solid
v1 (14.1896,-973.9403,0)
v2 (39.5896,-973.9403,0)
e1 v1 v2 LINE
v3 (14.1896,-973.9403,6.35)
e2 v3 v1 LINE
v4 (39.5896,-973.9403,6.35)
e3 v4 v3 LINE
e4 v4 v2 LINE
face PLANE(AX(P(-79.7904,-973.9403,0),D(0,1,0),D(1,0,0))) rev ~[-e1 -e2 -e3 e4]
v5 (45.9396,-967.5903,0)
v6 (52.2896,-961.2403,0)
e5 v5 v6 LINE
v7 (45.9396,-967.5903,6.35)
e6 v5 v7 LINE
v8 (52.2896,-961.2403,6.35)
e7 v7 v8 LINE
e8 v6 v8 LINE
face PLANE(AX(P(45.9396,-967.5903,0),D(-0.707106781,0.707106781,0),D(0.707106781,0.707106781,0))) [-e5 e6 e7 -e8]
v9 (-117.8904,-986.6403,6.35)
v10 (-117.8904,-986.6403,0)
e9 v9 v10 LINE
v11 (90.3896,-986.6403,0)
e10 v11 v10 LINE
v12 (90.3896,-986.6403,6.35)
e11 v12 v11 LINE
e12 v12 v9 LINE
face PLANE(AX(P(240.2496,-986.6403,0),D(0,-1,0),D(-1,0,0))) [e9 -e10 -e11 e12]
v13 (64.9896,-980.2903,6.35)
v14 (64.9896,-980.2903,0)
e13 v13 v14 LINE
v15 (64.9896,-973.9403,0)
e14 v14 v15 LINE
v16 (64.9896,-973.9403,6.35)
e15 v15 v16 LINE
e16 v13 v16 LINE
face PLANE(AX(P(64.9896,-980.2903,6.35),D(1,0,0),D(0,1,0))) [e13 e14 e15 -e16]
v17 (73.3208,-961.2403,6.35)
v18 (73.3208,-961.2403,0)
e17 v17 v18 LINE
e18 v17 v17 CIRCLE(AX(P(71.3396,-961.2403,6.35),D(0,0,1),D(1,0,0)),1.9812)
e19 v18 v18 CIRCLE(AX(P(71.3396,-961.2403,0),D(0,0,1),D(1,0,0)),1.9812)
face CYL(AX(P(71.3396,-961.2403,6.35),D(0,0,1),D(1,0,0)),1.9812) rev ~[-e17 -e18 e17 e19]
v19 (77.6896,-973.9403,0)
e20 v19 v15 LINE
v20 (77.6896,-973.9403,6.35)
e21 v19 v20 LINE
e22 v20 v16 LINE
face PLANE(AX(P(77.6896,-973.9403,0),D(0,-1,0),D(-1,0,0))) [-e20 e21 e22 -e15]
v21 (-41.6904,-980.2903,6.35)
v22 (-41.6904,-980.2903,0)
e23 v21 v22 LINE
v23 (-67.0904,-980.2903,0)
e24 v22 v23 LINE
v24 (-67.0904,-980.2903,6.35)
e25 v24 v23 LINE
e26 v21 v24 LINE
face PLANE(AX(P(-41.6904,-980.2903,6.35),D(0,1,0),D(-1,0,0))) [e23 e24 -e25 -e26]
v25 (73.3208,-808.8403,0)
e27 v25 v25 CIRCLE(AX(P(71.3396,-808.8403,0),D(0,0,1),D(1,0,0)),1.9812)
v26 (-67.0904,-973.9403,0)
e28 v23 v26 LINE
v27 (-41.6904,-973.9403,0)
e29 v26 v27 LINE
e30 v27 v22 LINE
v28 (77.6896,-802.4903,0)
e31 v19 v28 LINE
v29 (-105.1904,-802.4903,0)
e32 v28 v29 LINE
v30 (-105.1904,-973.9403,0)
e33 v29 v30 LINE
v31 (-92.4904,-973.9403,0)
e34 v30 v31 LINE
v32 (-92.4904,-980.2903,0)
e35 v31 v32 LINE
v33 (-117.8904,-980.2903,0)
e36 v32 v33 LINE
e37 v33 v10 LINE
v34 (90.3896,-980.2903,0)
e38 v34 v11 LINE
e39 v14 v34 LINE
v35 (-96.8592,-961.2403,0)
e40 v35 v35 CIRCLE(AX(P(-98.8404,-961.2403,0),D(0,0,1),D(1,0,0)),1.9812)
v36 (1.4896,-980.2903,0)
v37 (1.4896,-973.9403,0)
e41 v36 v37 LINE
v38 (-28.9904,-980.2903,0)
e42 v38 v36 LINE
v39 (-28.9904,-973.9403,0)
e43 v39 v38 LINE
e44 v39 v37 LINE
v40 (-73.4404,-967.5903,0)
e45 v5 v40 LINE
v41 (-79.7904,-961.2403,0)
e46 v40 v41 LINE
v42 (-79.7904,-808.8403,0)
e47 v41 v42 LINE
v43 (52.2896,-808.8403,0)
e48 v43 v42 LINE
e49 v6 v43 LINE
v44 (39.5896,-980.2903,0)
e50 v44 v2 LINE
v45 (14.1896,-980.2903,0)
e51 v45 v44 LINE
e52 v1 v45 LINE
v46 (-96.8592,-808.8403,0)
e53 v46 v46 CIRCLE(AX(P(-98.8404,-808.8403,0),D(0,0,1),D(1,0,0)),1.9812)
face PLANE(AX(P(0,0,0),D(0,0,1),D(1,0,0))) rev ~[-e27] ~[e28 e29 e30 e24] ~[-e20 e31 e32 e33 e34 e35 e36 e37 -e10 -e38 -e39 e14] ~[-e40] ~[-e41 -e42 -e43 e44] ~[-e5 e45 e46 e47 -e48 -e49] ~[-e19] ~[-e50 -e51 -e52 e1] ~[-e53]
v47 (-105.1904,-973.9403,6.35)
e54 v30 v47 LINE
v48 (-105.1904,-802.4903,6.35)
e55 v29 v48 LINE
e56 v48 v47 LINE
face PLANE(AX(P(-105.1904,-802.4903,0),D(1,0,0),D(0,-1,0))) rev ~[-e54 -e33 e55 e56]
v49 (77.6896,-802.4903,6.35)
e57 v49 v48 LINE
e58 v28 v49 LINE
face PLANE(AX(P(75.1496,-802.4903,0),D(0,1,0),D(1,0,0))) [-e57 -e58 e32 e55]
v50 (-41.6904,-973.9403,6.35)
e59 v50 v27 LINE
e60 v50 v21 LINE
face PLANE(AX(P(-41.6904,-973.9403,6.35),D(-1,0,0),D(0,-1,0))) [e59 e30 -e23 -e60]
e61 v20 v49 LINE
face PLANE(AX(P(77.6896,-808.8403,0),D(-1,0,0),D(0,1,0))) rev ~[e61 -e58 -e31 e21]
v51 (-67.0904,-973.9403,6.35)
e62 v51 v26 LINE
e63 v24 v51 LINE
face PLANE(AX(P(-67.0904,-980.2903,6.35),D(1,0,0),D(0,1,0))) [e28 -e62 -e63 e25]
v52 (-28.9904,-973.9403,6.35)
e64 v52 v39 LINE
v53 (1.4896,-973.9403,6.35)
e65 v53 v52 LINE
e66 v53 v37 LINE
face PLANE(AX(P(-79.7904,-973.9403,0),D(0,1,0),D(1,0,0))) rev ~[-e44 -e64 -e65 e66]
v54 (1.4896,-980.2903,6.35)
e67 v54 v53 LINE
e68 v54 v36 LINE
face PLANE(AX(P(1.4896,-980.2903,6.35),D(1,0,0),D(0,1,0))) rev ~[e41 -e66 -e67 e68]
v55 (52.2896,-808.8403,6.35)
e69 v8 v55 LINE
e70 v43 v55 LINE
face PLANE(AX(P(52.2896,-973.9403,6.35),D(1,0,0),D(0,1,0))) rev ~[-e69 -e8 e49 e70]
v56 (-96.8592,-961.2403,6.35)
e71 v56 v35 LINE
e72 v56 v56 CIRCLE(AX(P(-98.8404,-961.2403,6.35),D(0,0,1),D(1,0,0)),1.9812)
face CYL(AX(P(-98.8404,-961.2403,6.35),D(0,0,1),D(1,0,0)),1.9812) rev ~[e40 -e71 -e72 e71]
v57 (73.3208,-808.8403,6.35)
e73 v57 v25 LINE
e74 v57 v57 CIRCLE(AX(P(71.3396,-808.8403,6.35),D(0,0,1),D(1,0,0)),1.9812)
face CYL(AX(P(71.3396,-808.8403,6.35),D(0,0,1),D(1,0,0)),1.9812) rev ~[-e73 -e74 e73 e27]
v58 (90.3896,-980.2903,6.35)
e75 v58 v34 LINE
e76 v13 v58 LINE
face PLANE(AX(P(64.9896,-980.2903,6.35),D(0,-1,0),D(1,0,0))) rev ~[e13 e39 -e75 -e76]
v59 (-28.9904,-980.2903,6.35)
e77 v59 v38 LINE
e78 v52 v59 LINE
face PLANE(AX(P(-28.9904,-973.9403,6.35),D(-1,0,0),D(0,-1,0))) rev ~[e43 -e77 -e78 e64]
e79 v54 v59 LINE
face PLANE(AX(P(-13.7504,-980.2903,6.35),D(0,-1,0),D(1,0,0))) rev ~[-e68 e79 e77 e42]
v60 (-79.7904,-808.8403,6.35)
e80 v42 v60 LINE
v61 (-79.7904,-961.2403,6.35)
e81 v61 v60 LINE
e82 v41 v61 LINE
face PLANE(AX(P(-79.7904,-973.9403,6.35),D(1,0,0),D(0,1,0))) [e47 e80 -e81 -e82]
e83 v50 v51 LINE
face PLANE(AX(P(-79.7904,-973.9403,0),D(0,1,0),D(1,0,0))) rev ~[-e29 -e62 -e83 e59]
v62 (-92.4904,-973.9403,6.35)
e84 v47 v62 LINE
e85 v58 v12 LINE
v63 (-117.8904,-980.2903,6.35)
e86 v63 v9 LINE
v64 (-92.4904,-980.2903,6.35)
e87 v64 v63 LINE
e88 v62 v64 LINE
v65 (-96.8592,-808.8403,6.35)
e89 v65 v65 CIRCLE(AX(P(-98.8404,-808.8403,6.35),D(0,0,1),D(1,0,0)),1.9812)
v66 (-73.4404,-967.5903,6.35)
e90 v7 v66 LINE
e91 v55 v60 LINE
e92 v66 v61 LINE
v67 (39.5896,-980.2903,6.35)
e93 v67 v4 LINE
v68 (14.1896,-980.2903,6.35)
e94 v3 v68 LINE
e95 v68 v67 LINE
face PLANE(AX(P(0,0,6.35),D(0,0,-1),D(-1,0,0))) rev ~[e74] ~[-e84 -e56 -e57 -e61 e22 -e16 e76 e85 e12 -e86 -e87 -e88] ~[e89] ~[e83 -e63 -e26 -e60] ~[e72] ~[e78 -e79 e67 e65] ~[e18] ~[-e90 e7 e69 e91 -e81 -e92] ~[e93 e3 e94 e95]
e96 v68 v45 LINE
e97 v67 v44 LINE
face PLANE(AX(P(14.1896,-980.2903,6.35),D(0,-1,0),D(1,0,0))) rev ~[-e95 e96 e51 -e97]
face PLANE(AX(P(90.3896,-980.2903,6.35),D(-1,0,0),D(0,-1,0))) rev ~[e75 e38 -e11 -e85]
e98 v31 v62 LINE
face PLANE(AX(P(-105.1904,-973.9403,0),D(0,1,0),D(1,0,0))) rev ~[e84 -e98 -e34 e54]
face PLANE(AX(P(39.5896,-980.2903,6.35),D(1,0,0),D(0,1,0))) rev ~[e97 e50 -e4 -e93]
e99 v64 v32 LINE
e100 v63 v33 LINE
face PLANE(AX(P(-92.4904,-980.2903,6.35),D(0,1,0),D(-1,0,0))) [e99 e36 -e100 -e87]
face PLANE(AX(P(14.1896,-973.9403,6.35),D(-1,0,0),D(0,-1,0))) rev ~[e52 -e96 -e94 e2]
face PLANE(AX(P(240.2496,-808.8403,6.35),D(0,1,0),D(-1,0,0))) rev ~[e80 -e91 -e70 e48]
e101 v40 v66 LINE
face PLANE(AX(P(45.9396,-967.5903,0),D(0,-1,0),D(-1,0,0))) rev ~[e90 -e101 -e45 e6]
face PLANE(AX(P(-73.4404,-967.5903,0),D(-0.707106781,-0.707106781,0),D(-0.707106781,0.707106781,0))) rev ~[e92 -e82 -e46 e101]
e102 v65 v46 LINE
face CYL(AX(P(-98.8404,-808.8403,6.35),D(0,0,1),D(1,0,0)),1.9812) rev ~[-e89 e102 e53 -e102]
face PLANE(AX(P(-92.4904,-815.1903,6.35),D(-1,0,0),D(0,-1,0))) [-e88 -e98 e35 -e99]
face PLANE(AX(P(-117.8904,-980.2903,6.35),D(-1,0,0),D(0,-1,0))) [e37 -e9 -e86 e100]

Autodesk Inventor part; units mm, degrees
ref_plane "YZ Plane" through (0, 0, 0) normal (1, 0, 0) x (0, 1, 0)
ref_plane "XZ Plane" through (0, 0, 0) normal (0, 1, 0) x (-1, 0, 0)
ref_plane "XY Plane" through (0, 0, 0) normal (0, 0, 1) x (1, 0, 0)
sketch "Sketch1" plane through (0, 0, 0) normal (0, 0, 1) x (1, 0, 0)
  line L0 (-267.7504, 67.4597) -> (240.2496, 67.4597)
  line L1 (240.2496, 67.4597) -> (240.2496, -986.6403)
  line L2 (240.2496, -986.6403) -> (-267.7504, -986.6403)
  line L3 (-267.7504, -986.6403) -> (-267.7504, 67.4597)
  point P0 (0, 0)
  dimension "d0" = 508
  dimension "d1" = 1054.1
extrude "Extrusion1" add sketch "Sketch1" along normal blind 6.35
sketch "Sketch2" plane through (0, 0, 6.35) normal (0, 0, 1) x (1, 0, 0)
  line L0 (240.2496, -986.6403) -> (-267.7504, -986.6403) projected
  line L1 (-267.7504, -986.6403) -> (-13.7504, -986.6403)
  line L2 (-13.7504, -986.6403) -> (-13.7504, -980.2903)
  line L3 (-13.7504, -980.2903) -> (1.4896, -980.2903)
  line L4 (1.4896, -980.2903) -> (-28.9904, -980.2903)
  line L5 (-28.9904, -980.2903) -> (1.4896, -980.2903)
  line L6 (1.4896, -980.2903) -> (1.4896, -973.9403)
  line L7 (1.4896, -973.9403) -> (-28.9904, -973.9403)
  line L8 (-28.9904, -973.9403) -> (-28.9904, -980.2903)
  point P0 (0, 0)
  dimension "d4" = 254
  dimension "d5" = 6.35
  dimension "d6" = 15.24
  dimension "d7" = 30.48
  dimension "d8" = 6.35
extrude "Extrusion2" cut sketch "Sketch2" against normal blind 104.14
sketch "Sketch3" plane through (0, 0, 6.35) normal (0, 0, 1) x (1, 0, 0)
  line L0 (240.2496, -986.6403) -> (-267.7504, -986.6403) projected
  line L1 (1.4896, -980.2903) -> (14.1896, -980.2903)
  line L2 (-28.9904, -980.2903) -> (-41.6904, -980.2903)
  line L3 (-41.6904, -980.2903) -> (-67.0904, -980.2903)
  line L4 (-67.0904, -980.2903) -> (-67.0904, -973.9403)
  line L5 (-67.0904, -973.9403) -> (-41.6904, -973.9403)
  line L6 (-41.6904, -973.9403) -> (-41.6904, -980.2903)
  line L7 (14.1896, -980.2903) -> (39.5896, -980.2903)
  line L8 (39.5896, -980.2903) -> (39.5896, -973.9403)
  line L9 (39.5896, -973.9403) -> (14.1896, -973.9403)
  line L10 (14.1896, -973.9403) -> (14.1896, -980.2903)
  point P0 (0, 0)
  dimension "d11" = 12.7
  dimension "d12" = 12.7
  dimension "d13" = 25.4
  dimension "d14" = 25.4
extrude "Extrusion3" cut sketch "Sketch3" against normal blind 104.14
sketch "Sketch4" plane through (0, 0, 6.35) normal (0, 0, 1) x (1, 0, 0)
  line L0 (-67.0904, -973.9403) -> (-41.6904, -973.9403) projected
  line L1 (14.1896, -973.9403) -> (39.5896, -973.9403) projected
  line L2 (-28.9904, -973.9403) -> (1.4896, -973.9403) projected
  line L3 (240.2496, 67.4597) -> (240.2496, -986.6403) projected
  line L4 (-267.7504, -986.6403) -> (-267.7504, 67.4597) projected
  line L5 (240.2496, -986.6403) -> (-267.7504, -986.6403) projected
  line L6 (-67.0904, -980.2903) -> (-92.4904, -980.2903)
  line L7 (-92.4904, -980.2903) -> (-117.8904, -980.2903)
  line L8 (-117.8904, -980.2903) -> (-117.8904, -986.6403)
  line L9 (39.5896, -980.2903) -> (64.9896, -980.2903)
  line L10 (64.9896, -980.2903) -> (90.3896, -980.2903)
  line L11 (90.3896, -980.2903) -> (90.3896, -986.6403)
  line L12 (-41.6904, -973.9403) -> (-28.9904, -973.9403)
  line L13 (1.4896, -973.9403) -> (14.1896, -973.9403)
  line L14 (-67.0904, -973.9403) -> (-79.7904, -973.9403)
  line L15 (39.5896, -973.9403) -> (52.2896, -973.9403)
  line L16 (-79.7904, -973.9403) -> (-79.7904, -802.4903)
  line L17 (52.2896, -973.9403) -> (52.2896, -802.4903)
  line L18 (52.2896, -802.4903) -> (-79.7904, -802.4903)
  line L19 (-79.7904, -802.4903) -> (-105.1904, -802.4903)
  line L20 (-105.1904, -802.4903) -> (-105.1904, -815.1903)
  line L21 (-105.1904, -815.1903) -> (-92.4904, -815.1903)
  line L22 (-92.4904, -815.1903) -> (-92.4904, -980.2903)
  line L23 (64.9896, -980.2903) -> (64.9896, -815.1903)
  line L24 (64.9896, -815.1903) -> (77.6896, -815.1903)
  line L25 (77.6896, -815.1903) -> (77.6896, -802.4903)
  line L26 (77.6896, -802.4903) -> (52.2896, -802.4903)
  line L27 (-105.1904, -802.4903) -> (-267.7504, -802.4903)
  line L28 (77.6896, -802.4903) -> (240.2496, -802.4903)
  point P0 (0, 0)
  dimension "d17" = 25.4
  dimension "d18" = 25.4
  dimension "d19" = 25.4
  dimension "d20" = 25.4
  dimension "d21" = 171.45
  dimension "d22" = 25.4
  dimension "d23" = 12.7
extrude "Extrusion4" cut sketch "Sketch4" against normal blind 104.14 contours L14 L16 L18 L17 L15 L1 L13 L2 L12 L0 | L20 L21 L22 L7 L8 L5 L4 L27 | L28 L3 L5 L11 L10 L23 L24 L25
sketch "Sketch5" plane through (0, 0, 6.35) normal (0, 0, 1) x (1, 0, 0)
  line L0 (-92.4904, -815.1903) -> (-92.4904, -980.2903) projected
  line L1 (64.9896, -980.2903) -> (64.9896, -815.1903) projected
  line L2 (-92.4904, -973.9403) -> (-92.4904, -967.5903)
  line L3 (-92.4904, -967.5903) -> (-105.1904, -967.5903)
  line L4 (-105.1904, -967.5903) -> (-105.1904, -954.8903)
  line L5 (-105.1904, -954.8903) -> (-92.4904, -954.8903)
  line L6 (64.9896, -954.8903) -> (77.6896, -954.8903)
  line L7 (77.6896, -954.8903) -> (77.6896, -967.5903)
  line L8 (77.6896, -967.5903) -> (64.9896, -967.5903)
  point P0 (0, 0)
  dimension "d26" = 6.35
  dimension "d27" = 12.7
extrude "Extrusion5" add sketch "Sketch5" against normal blind 6.35
sketch "Sketch6" plane through (0, 0, 6.35) normal (0, 0, 1) x (1, 0, 0)
  line L0 (-79.7904, -802.4903) -> (52.2896, -802.4903) projected
  line L1 (-267.7504, -802.4903) -> (-105.1904, -802.4903) projected
  line L2 (77.6896, -802.4903) -> (240.2496, -802.4903) projected
  line L3 (-267.7504, -802.4903) -> (-242.3504, -802.4903)
  line L4 (-242.3504, -802.4903) -> (-216.9504, -802.4903)
  line L5 (-216.9504, -802.4903) -> (-140.7504, -802.4903)
  line L6 (-140.7504, -802.4903) -> (-115.3504, -802.4903)
  line L7 (-115.3504, -802.4903) -> (-39.1504, -802.4903)
  line L8 (-39.1504, -802.4903) -> (-13.7504, -802.4903)
  line L9 (-13.7504, -802.4903) -> (62.4496, -802.4903)
  line L10 (62.4496, -802.4903) -> (87.8496, -802.4903)
  line L11 (87.8496, -802.4903) -> (164.0496, -802.4903)
  line L12 (164.0496, -802.4903) -> (189.4496, -802.4903)
  line L13 (189.4496, -802.4903) -> (265.6496, -802.4903)
  line L14 (265.6496, -802.4903) -> (240.2496, -802.4903)
  line L15 (-242.3504, -802.4903) -> (-216.9504, -802.4903)
  line L16 (-216.9504, -802.4903) -> (-216.9504, -796.1403)
  line L17 (-216.9504, -796.1403) -> (-242.3504, -796.1403)
  line L18 (-242.3504, -796.1403) -> (-242.3504, -802.4903)
  line L19 (-140.7504, -802.4903) -> (-115.3504, -802.4903)
  line L20 (-115.3504, -802.4903) -> (-115.3504, -796.1403)
  line L21 (-115.3504, -796.1403) -> (-140.7504, -796.1403)
  line L22 (-140.7504, -796.1403) -> (-140.7504, -802.4903)
  line L23 (-39.1504, -802.4903) -> (-13.7504, -802.4903)
  line L24 (-13.7504, -802.4903) -> (-13.7504, -796.1403)
  line L25 (-13.7504, -796.1403) -> (-39.1504, -796.1403)
  line L26 (-39.1504, -796.1403) -> (-39.1504, -802.4903)
  line L27 (62.4496, -802.4903) -> (87.8496, -802.4903)
  line L28 (87.8496, -802.4903) -> (87.8496, -796.1403)
  line L29 (87.8496, -796.1403) -> (62.4496, -796.1403)
  line L30 (62.4496, -796.1403) -> (62.4496, -802.4903)
  line L31 (164.0496, -802.4903) -> (189.4496, -802.4903)
  line L32 (189.4496, -802.4903) -> (189.4496, -796.1403)
  line L33 (189.4496, -796.1403) -> (164.0496, -796.1403)
  line L34 (164.0496, -796.1403) -> (164.0496, -802.4903)
  point P0 (0, 0)
  dimension "d30" = 25.4
  dimension "d31" = 25.4
  dimension "d32" = 76.2
  dimension "d33" = 25.4
  dimension "d34" = 76.2
  dimension "d35" = 25.4
  dimension "d36" = 76.2
  dimension "d37" = 25.4
  dimension "d38" = 76.2
  dimension "d39" = 25.4
  dimension "d40" = 76.2
  dimension "d41" = 25.4
  dimension "d42" = 6.35
extrude "Extrusion6" cut sketch "Sketch6" against normal blind 25.4
sketch "Sketch7" plane through (0, 0, 6.35) normal (0, 0, 1) x (1, 0, 0)
  line L0 (-267.7504, -802.4903) -> (240.2496, -802.4903)
  line L1 (240.2496, -802.4903) -> (240.2496, -808.8403)
  line L2 (240.2496, -808.8403) -> (-267.7504, -808.8403)
  line L3 (-267.7504, -808.8403) -> (-267.7504, -802.4903)
  point P0 (0, 0)
extrude "Extrusion7" add sketch "Sketch7" against normal blind 6.35
sketch "Sketch8" plane through (0, 0, 6.35) normal (0, 0, 1) x (1, 0, 0)
  line L0 (-216.9504, -796.1403) -> (-191.5504, -796.1403)
  line L1 (-191.5504, -796.1403) -> (-191.5504, -789.7903)
  line L2 (-191.5504, -789.7903) -> (-216.9504, -789.7903)
  line L3 (-216.9504, -789.7903) -> (-216.9504, -796.1403)
  line L4 (-115.3504, -796.1403) -> (-89.9504, -796.1403)
  line L5 (-89.9504, -796.1403) -> (-89.9504, -789.7903)
  line L6 (-89.9504, -789.7903) -> (-115.3504, -789.7903)
  line L7 (-115.3504, -789.7903) -> (-115.3504, -796.1403)
  line L8 (-13.7504, -796.1403) -> (11.6496, -796.1403)
  line L9 (11.6496, -796.1403) -> (11.6496, -789.7903)
  line L10 (11.6496, -789.7903) -> (-13.7504, -789.7903)
  line L11 (-13.7504, -789.7903) -> (-13.7504, -796.1403)
  line L12 (87.8496, -796.1403) -> (113.2496, -796.1403)
  line L13 (113.2496, -796.1403) -> (113.2496, -789.7903)
  line L14 (113.2496, -789.7903) -> (87.8496, -789.7903)
  line L15 (87.8496, -789.7903) -> (87.8496, -796.1403)
  line L16 (189.4496, -796.1403) -> (214.8496, -796.1403)
  line L17 (214.8496, -796.1403) -> (214.8496, -789.7903)
  line L18 (214.8496, -789.7903) -> (189.4496, -789.7903)
  line L19 (189.4496, -789.7903) -> (189.4496, -796.1403)
  point P0 (0, 0)
  dimension "d47" = 25.4
  dimension "d48" = 6.35
  dimension "d49" = 25.4
  dimension "d50" = 25.4
  dimension "d51" = 25.4
  dimension "d52" = 25.4
extrude "Extrusion8" cut sketch "Sketch8" against normal blind 6.35
sketch "Sketch9" plane through (0, 0, 6.35) normal (0, 0, 1) x (1, 0, 0)
  circle A0 centre (-98.8404, -808.8403) radius 1.9812
  circle A1 centre (-98.8404, -961.2403) radius 1.9812
  circle A2 centre (71.3396, -961.2403) radius 1.9812
  circle A3 centre (71.3396, -808.8403) radius 1.9812
  point P0 (0, 0)
  dimension "d55" = 3.9624
  dimension "d56" = 3.9624
  dimension "d57" = 3.9624
  dimension "d58" = 3.9624
extrude "Extrusion9" cut sketch "Sketch9" against normal blind 6.35
sketch "Sketch10" plane through (0, 0, 0) normal (0, 0, -1) x (-1, 0, 0)
  line L0 (-77.6896, -815.1903) -> (-64.9896, -815.1903) projected
  line L1 (-64.9896, -815.1903) -> (-64.9896, -954.8903) projected
  line L2 (-77.6896, -954.8903) -> (-64.9896, -954.8903) projected
  line L3 (-64.9896, -967.5903) -> (-77.6896, -967.5903) projected
  line L4 (-64.9896, -967.5903) -> (-64.9896, -980.2903) projected
  line L5 (92.4904, -980.2903) -> (92.4904, -967.5903) projected
  line L6 (105.1904, -967.5903) -> (92.4904, -967.5903) projected
  line L7 (92.4904, -954.8903) -> (105.1904, -954.8903) projected
  line L8 (92.4904, -954.8903) -> (92.4904, -815.1903) projected
  line L9 (92.4904, -815.1903) -> (105.1904, -815.1903) projected
  line L10 (-77.6896, -808.8403) -> (-240.2496, -808.8403) projected
  line L11 (-77.6896, -815.1903) -> (-77.6896, -954.8903)
  line L12 (105.1904, -954.8903) -> (105.1904, -815.1903)
  line L13 (105.1904, -967.5903) -> (105.1904, -973.9403)
  line L14 (105.1904, -973.9403) -> (92.4904, -973.9403)
  line L15 (-77.6896, -967.5903) -> (-77.6896, -973.9403)
  line L16 (-77.6896, -973.9403) -> (-64.9896, -973.9403)
  point P0 (0, 0)
extrude "Extrusion10" add sketch "Sketch10" against normal blind 6.35
sketch "Sketch11" plane through (0, 0, 0) normal (0, 0, -1) x (-1, 0, 0)
  line L0 (79.7904, -808.8403) -> (79.7904, -973.9403) projected
  line L1 (79.7904, -973.9403) -> (67.0904, -973.9403) projected
  line L2 (-39.5896, -973.9403) -> (-52.2896, -973.9403) projected
  line L3 (-52.2896, -973.9403) -> (-52.2896, -808.8403) projected
  line L4 (-39.5896, -973.9403) -> (-52.2896, -961.2403)
  line L5 (67.0904, -973.9403) -> (79.7904, -961.2403)
  line L6 (-45.9396, -967.5903) -> (73.4404, -967.5903)
  line L7 (-39.5896, -973.9403) -> (67.0904, -973.9403)
  point P0 (0, 0)
extrude "Extrusion11" add sketch "Sketch11" against normal blind 6.35
sketch "Sketch12" plane through (0, 0, 0) normal (0, 0, -1) x (-1, 0, 0)
  line L0 (267.7504, -808.8403) -> (267.7504, 67.4597) projected
  line L1 (-240.2496, 67.4597) -> (-240.2496, -808.8403) projected
  line L2 (-240.2496, 67.4597) -> (-214.8496, 67.4597)
  line L3 (-214.8496, 67.4597) -> (-214.8496, 42.0597)
  line L4 (-214.8496, 42.0597) -> (-240.2496, 42.0597)
  line L5 (-240.2496, 42.0597) -> (-240.2496, 67.4597)
  line L6 (267.7504, 67.4597) -> (242.3504, 67.4597)
  line L7 (242.3504, 67.4597) -> (242.3504, 42.0597)
  line L8 (242.3504, 42.0597) -> (267.7504, 42.0597)
  line L9 (267.7504, 42.0597) -> (267.7504, 67.4597)
  line L10 (-240.2496, -789.7903) -> (-214.8496, -789.7903)
  line L11 (-214.8496, -789.7903) -> (-214.8496, -764.3903)
  line L12 (-214.8496, -764.3903) -> (-240.2496, -764.3903)
  line L13 (-240.2496, -764.3903) -> (-240.2496, -789.7903)
  line L14 (267.7504, -789.7903) -> (242.3504, -789.7903)
  line L15 (242.3504, -789.7903) -> (242.3504, -764.3903)
  line L16 (242.3504, -764.3903) -> (267.7504, -764.3903)
  line L17 (267.7504, -764.3903) -> (267.7504, -789.7903)
  line L18 (-214.8496, -764.3903) -> (242.3504, -764.3903)
  line L19 (242.3504, -764.3903) -> (242.3504, 42.0597)
  line L20 (242.3504, 42.0597) -> (-214.8496, 42.0597)
  line L21 (-214.8496, 42.0597) -> (-214.8496, -764.3903)
  point P0 (0, 0)
  dimension "d65" = 25.4
  dimension "d66" = 25.4
  dimension "d67" = 25.4
  dimension "d68" = 25.4
  dimension "d69" = 25.4
  dimension "d70" = 25.4
  dimension "d71" = 25.4
  dimension "d72" = 25.4
extrude "Extrusion12" cut sketch "Sketch12" against normal blind 6.35 contours L18 L21 L20 L19
fillet "Fillet1" radius 12.7 1 edges at (-242.3504, 42.0597, 3.175)
fillet "Fillet2" radius 12.7 3 edges at (214.8496, 42.0597, 3.175) (214.8496, -764.3903, 3.175) (-242.3504, -764.3903, 3.175)
sketch "Sketch13" plane through (0, 0, 0) normal (0, 0, -1) x (-1, 0, 0)
  line L0 (-214.8496, -751.6903) -> (-214.8496, 29.3597) projected
  arc A0 (-202.1496, 42.0597) -> (-214.8496, 29.3597) centre (-202.1496, 29.3597) ccw projected
  line L1 (-202.1496, 42.0597) -> (229.6504, 42.0597) projected
  arc A1 (242.3504, 29.3597) -> (229.6504, 42.0597) centre (229.6504, 29.3597) ccw projected
  line L2 (242.3504, 29.3597) -> (242.3504, -751.6903) projected
  arc A2 (229.6504, -764.3903) -> (242.3504, -751.6903) centre (229.6504, -751.6903) ccw projected
  arc A3 (-214.8496, -751.6903) -> (-202.1496, -764.3903) centre (-202.1496, -751.6903) ccw projected
  line L3 (267.7504, -808.8403) -> (267.7504, 67.4597) projected
  line L4 (267.7504, 67.4597) -> (-240.2496, 67.4597) projected
  line L5 (-240.2496, 67.4597) -> (-240.2496, -808.8403) projected
  line L6 (-202.1496, -764.3903) -> (-240.2496, -764.3903)
  line L7 (229.6504, -764.3903) -> (267.7504, -764.3903)
  point P0 (0, 0)
extrude "Extrusion13" cut sketch "Sketch13" against normal blind 25.4
sketch "Sketch14" plane through (0, 0, 0) normal (0, 0, -1) x (-1, 0, 0)
  line L0 (-240.2496, -764.3903) -> (-202.1496, -764.3903)
  line L1 (-202.1496, -764.3903) -> (-202.1496, -688.1903)
  line L2 (-202.1496, -688.1903) -> (-240.2496, -688.1903)
  line L3 (-240.2496, -688.1903) -> (-240.2496, -764.3903)
  line L4 (267.7504, -764.3903) -> (229.6504, -764.3903)
  line L5 (229.6504, -764.3903) -> (229.6504, -688.1903)
  line L6 (229.6504, -688.1903) -> (267.7504, -688.1903)
  line L7 (267.7504, -688.1903) -> (267.7504, -764.3903)
  point P0 (0, 0)
  dimension "d79" = 76.2
  dimension "d80" = 76.2
extrude "Extrusion14" add sketch "Sketch14" against normal blind 6.35
sketch "Sketch15" plane through (0, 0, 0) normal (0, 0, -1) x (-1, 0, 0)
  line L0 (-240.2496, -688.1903) -> (-221.1996, -688.1903)
  line L1 (-221.1996, -688.1903) -> (-221.1996, -707.2403)
  line L2 (-221.1996, -707.2403) -> (-240.2496, -707.2403)
  line L3 (-240.2496, -707.2403) -> (-240.2496, -688.1903)
  line L4 (267.7504, -688.1903) -> (248.7004, -688.1903)
  line L5 (248.7004, -688.1903) -> (248.7004, -707.2403)
  line L6 (248.7004, -707.2403) -> (267.7504, -707.2403)
  line L7 (267.7504, -707.2403) -> (267.7504, -688.1903)
  circle A0 centre (248.7004, -707.2403) radius 1.9812
  circle A1 centre (-221.1996, -707.2403) radius 1.9812
  point P0 (0, 0)
  dimension "d83" = 19.05
  dimension "d84" = 19.05
  dimension "d85" = 19.05
  dimension "d86" = 19.05
  dimension "d87" = 3.9624
  dimension "d88" = 3.9624
extrude "Extrusion15" cut sketch "Sketch15" against normal blind 6.35 contours A1 L2 L1 | L1 L2 A1 | A0 L6 L5 | L5 L6 A0
sketch "Sketch16" plane through (0, 0, 0) normal (0, 0, -1) x (-1, 0, 0)
  line L0 (-240.2496, -688.1903) -> (-240.2496, -808.8403) projected
  line L1 (-240.2496, -688.1903) -> (-233.8996, -688.1903)
  line L2 (-233.8996, -688.1903) -> (-233.8996, -713.5903)
  line L3 (-233.8996, -713.5903) -> (-240.2496, -713.5903)
  line L4 (-240.2496, -713.5903) -> (-240.2496, -688.1903)
  line L5 (-233.8996, -713.5903) -> (-240.2496, -713.5903)
  line L6 (-240.2496, -713.5903) -> (-240.2496, -738.9903)
  line L7 (-240.2496, -738.9903) -> (-233.8996, -738.9903)
  line L8 (-233.8996, -738.9903) -> (-233.8996, -713.5903)
  line L9 (-233.8996, -738.9903) -> (-240.2496, -738.9903)
  line L10 (-240.2496, -738.9903) -> (-240.2496, -764.3903)
  line L11 (-240.2496, -764.3903) -> (-233.8996, -764.3903)
  line L12 (-233.8996, -764.3903) -> (-233.8996, -738.9903)
  line L13 (-233.8996, -764.3903) -> (-240.2496, -764.3903)
  line L14 (-240.2496, -764.3903) -> (-240.2496, -789.7903)
  line L15 (-240.2496, -789.7903) -> (-233.8996, -789.7903)
  line L16 (-233.8996, -789.7903) -> (-233.8996, -764.3903)
  point P0 (0, 0)
  dimension "d91" = 6.35
  dimension "d92" = 25.4
  dimension "d93" = 25.4
  dimension "d94" = 25.4
extrude "Extrusion16" cut sketch "Sketch16" against normal blind 6.35 contours L1 L2 L3 L0 | L7 L12 L11 L0
sketch "Sketch17" plane through (0, 0, 0) normal (0, 0, -1) x (-1, 0, 0)
  line L0 (267.7504, -808.8403) -> (267.7504, -688.1903) projected
  line L1 (267.7504, -688.1903) -> (261.4004, -688.1903)
  line L2 (261.4004, -688.1903) -> (261.4004, -713.5903)
  line L3 (261.4004, -713.5903) -> (267.7504, -713.5903)
  line L4 (267.7504, -713.5903) -> (267.7504, -688.1903)
  line L5 (261.4004, -713.5903) -> (267.7504, -713.5903)
  line L6 (267.7504, -713.5903) -> (267.7504, -738.9903)
  line L7 (267.7504, -738.9903) -> (261.4004, -738.9903)
  line L8 (261.4004, -738.9903) -> (261.4004, -713.5903)
  line L9 (261.4004, -738.9903) -> (267.7504, -738.9903)
  line L10 (267.7504, -738.9903) -> (267.7504, -764.3903)
  line L11 (267.7504, -764.3903) -> (261.4004, -764.3903)
  line L12 (261.4004, -764.3903) -> (261.4004, -738.9903)
  point P0 (0, 0)
  dimension "d97" = 6.35
  dimension "d98" = 25.4
  dimension "d99" = 25.4
  dimension "d100" = 25.4
extrude "Extrusion17" cut sketch "Sketch17" against normal blind 6.35 contours L11 L12 L7 L0 | L3 L2 L1 L0
sketch "Sketch18" plane through (0, 0, 0) normal (0, 0, -1) x (-1, 0, 0)
  circle A0 centre (-221.1996, -707.2403) radius 1.9812 projected
  circle A1 centre (248.7004, -707.2403) radius 1.9812 projected
  line L0 (-233.8996, -688.1903) -> (261.4004, -688.1903)
  line L1 (261.4004, -688.1903) -> (261.4004, -713.5903)
  line L2 (261.4004, -713.5903) -> (-233.8996, -713.5903)
  line L3 (-233.8996, -713.5903) -> (-233.8996, -688.1903)
  point P0 (0, 0)
extrude "Extrusion18" cut sketch "Sketch18" against normal blind 25.4
sketch "Sketch19" plane through (0, 0, 0) normal (0, 0, -1) x (-1, 0, 0)
  line L0 (-202.1496, -713.5903) -> (-221.1996, -713.5903)
  line L1 (-221.1996, -713.5903) -> (-221.1996, -726.2903)
  line L2 (-221.1996, -726.2903) -> (-202.1496, -726.2903)
  line L3 (-202.1496, -726.2903) -> (-202.1496, -713.5903)
  circle A0 centre (-221.1996, -726.2903) radius 1.9812
  circle A1 centre (248.7004, -728.2715) radius 1.9812
  point P0 (0, 0)
  dimension "d105" = 19.05
  dimension "d106" = 12.7
  dimension "d107" = 3.9624
  dimension "d108" = 3.9624
extrude "Extrusion19" cut sketch "Sketch19" against normal blind 25.4 contours A0 L2 L1 | L1 L2 A0 | A1
sketch "Sketch20" plane through (0, 0, 0) normal (0, 0, -1) x (-1, 0, 0)
  line L0 (-214.8496, -789.7903) -> (242.3504, -789.7903)
  line L1 (242.3504, -789.7903) -> (242.3504, -802.4903)
  line L2 (242.3504, -802.4903) -> (-214.8496, -802.4903)
  line L3 (-214.8496, -802.4903) -> (-214.8496, -789.7903)
  point P0 (0, 0)
extrude "Extrusion20" add sketch "Sketch20" against normal blind 6.35
sketch "Sketch21" plane through (0, 0, 0) normal (0, 0, -1) x (-1, 0, 0)
  line L0 (-240.2496, -808.8403) -> (-227.5496, -808.8403)
  line L1 (-227.5496, -808.8403) -> (-227.5496, -796.1403)
  line L2 (-227.5496, -796.1403) -> (-240.2496, -796.1403)
  line L3 (-240.2496, -796.1403) -> (-240.2496, -808.8403)
  line L4 (-227.5496, -796.1403) -> (-202.1496, -796.1403)
  line L5 (-202.1496, -796.1403) -> (-202.1496, -789.7903)
  line L6 (-202.1496, -789.7903) -> (-227.5496, -789.7903)
  line L7 (-227.5496, -789.7903) -> (-227.5496, -796.1403)
  line L8 (-202.1496, -796.1403) -> (-176.7496, -796.1403)
  line L9 (-176.7496, -796.1403) -> (-176.7496, -802.4903)
  line L10 (-176.7496, -802.4903) -> (-202.1496, -802.4903)
  line L11 (-202.1496, -802.4903) -> (-202.1496, -796.1403)
  line L12 (-176.7496, -796.1403) -> (-151.3496, -796.1403)
  line L13 (-151.3496, -796.1403) -> (-151.3496, -802.4903)
  line L14 (-151.3496, -802.4903) -> (-176.7496, -802.4903)
  line L15 (-176.7496, -802.4903) -> (-176.7496, -796.1403)
  line L16 (-151.3496, -796.1403) -> (-125.9496, -796.1403)
  line L17 (-125.9496, -796.1403) -> (-125.9496, -802.4903)
  line L18 (-125.9496, -802.4903) -> (-151.3496, -802.4903)
  line L19 (-151.3496, -802.4903) -> (-151.3496, -796.1403)
  line L20 (-125.9496, -796.1403) -> (-100.5496, -796.1403)
  line L21 (-100.5496, -796.1403) -> (-100.5496, -789.7903)
  line L22 (-100.5496, -789.7903) -> (-125.9496, -789.7903)
  line L23 (-125.9496, -789.7903) -> (-125.9496, -796.1403)
  line L24 (-100.5496, -796.1403) -> (-75.1496, -796.1403)
  line L25 (-75.1496, -796.1403) -> (-75.1496, -802.4903)
  line L26 (-75.1496, -802.4903) -> (-100.5496, -802.4903)
  line L27 (-100.5496, -802.4903) -> (-100.5496, -796.1403)
  line L28 (-75.1496, -802.4903) -> (-49.7496, -802.4903)
  line L29 (-49.7496, -802.4903) -> (-49.7496, -796.1403)
  line L30 (-49.7496, -796.1403) -> (-75.1496, -796.1403)
  line L31 (-75.1496, -796.1403) -> (-75.1496, -802.4903)
  line L32 (-49.7496, -796.1403) -> (-24.3496, -796.1403)
  line L33 (-24.3496, -796.1403) -> (-24.3496, -802.4903)
  line L34 (-24.3496, -802.4903) -> (-49.7496, -802.4903)
  line L35 (-49.7496, -802.4903) -> (-49.7496, -796.1403)
  line L36 (-24.3496, -796.1403) -> (1.0504, -796.1403)
  line L37 (1.0504, -796.1403) -> (1.0504, -789.7903)
  line L38 (1.0504, -789.7903) -> (-24.3496, -789.7903)
  line L39 (-24.3496, -789.7903) -> (-24.3496, -796.1403)
  line L40 (1.0504, -796.1403) -> (26.4504, -796.1403)
  line L41 (26.4504, -796.1403) -> (26.4504, -802.4903)
  line L42 (26.4504, -802.4903) -> (1.0504, -802.4903)
  line L43 (1.0504, -802.4903) -> (1.0504, -796.1403)
  line L44 (26.4504, -796.1403) -> (51.8504, -796.1403)
  line L45 (51.8504, -796.1403) -> (51.8504, -802.4903)
  line L46 (51.8504, -802.4903) -> (26.4504, -802.4903)
  line L47 (26.4504, -802.4903) -> (26.4504, -796.1403)
  line L48 (51.8504, -796.1403) -> (77.2504, -796.1403)
  line L49 (77.2504, -796.1403) -> (77.2504, -802.4903)
  line L50 (77.2504, -802.4903) -> (51.8504, -802.4903)
  line L51 (51.8504, -802.4903) -> (51.8504, -796.1403)
  line L52 (77.2504, -796.1403) -> (102.6504, -796.1403)
  line L53 (102.6504, -796.1403) -> (102.6504, -789.7903)
  line L54 (102.6504, -789.7903) -> (77.2504, -789.7903)
  line L55 (77.2504, -789.7903) -> (77.2504, -796.1403)
  line L56 (102.6504, -796.1403) -> (128.0504, -796.1403)
  line L57 (128.0504, -796.1403) -> (128.0504, -802.4903)
  line L58 (128.0504, -802.4903) -> (102.6504, -802.4903)
  line L59 (102.6504, -802.4903) -> (102.6504, -796.1403)
  line L60 (128.0504, -796.1403) -> (153.4504, -796.1403)
  line L61 (153.4504, -796.1403) -> (153.4504, -802.4903)
  line L62 (153.4504, -802.4903) -> (128.0504, -802.4903)
  line L63 (128.0504, -802.4903) -> (128.0504, -796.1403)
  line L64 (153.4504, -796.1403) -> (178.8504, -796.1403)
  line L65 (178.8504, -796.1403) -> (178.8504, -802.4903)
  line L66 (178.8504, -802.4903) -> (153.4504, -802.4903)
  line L67 (153.4504, -802.4903) -> (153.4504, -796.1403)
  line L68 (178.8504, -796.1403) -> (204.2504, -796.1403)
  line L69 (204.2504, -796.1403) -> (204.2504, -789.7903)
  line L70 (204.2504, -789.7903) -> (178.8504, -789.7903)
  line L71 (178.8504, -789.7903) -> (178.8504, -796.1403)
  line L72 (204.2504, -796.1403) -> (229.6504, -796.1403)
  line L73 (229.6504, -796.1403) -> (229.6504, -802.4903)
  line L74 (229.6504, -802.4903) -> (204.2504, -802.4903)
  line L75 (204.2504, -802.4903) -> (204.2504, -796.1403)
  line L76 (229.6504, -796.1403) -> (255.0504, -796.1403)
  line L77 (255.0504, -796.1403) -> (255.0504, -802.4903)
  line L78 (255.0504, -802.4903) -> (229.6504, -802.4903)
  line L79 (229.6504, -802.4903) -> (229.6504, -796.1403)
  point P0 (0, 0)
  dimension "d113" = 12.7
  dimension "d114" = 12.7
  dimension "d115" = 25.4
  dimension "d116" = 6.35
  dimension "d117" = 25.4
  dimension "d118" = 25.4
  dimension "d119" = 25.4
  dimension "d120" = 25.4
  dimension "d121" = 25.4
  dimension "d122" = 25.4
  dimension "d123" = 25.4
  dimension "d124" = 25.4
  dimension "d125" = 25.4
  dimension "d126" = 25.4
  dimension "d127" = 25.4
  dimension "d128" = 25.4
  dimension "d129" = 25.4
  dimension "d130" = 25.4
  dimension "d131" = 25.4
  dimension "d132" = 25.4
  dimension "d133" = 25.4
  dimension "d134" = 25.4
extrude "Extrusion21" cut sketch "Sketch21" against normal blind 6.35 contours L71 L70 L69 L68 | L55 L54 L53 L52 | L39 L38 L37 L36 | L23 L22 L21 L20 | L7 L6 L5 L4 | L12 L13 L14 L9 | L30 L29 L28 L25 | L44 L45 L46 L41 | L60 L61 L62 L57 | L76 L77 L78 L73
sketch "Sketch22" plane through (0, 0, 0) normal (0, 0, -1) x (-1, 0, 0)
  line L0 (-240.2496, -764.3903) -> (-240.2496, -808.8403) projected
  line L1 (267.7504, -808.8403) -> (267.7504, -764.3903) projected
  line L2 (-227.5496, -789.7903) -> (-240.2496, -789.7903)
  line L3 (-240.2496, -789.7903) -> (-240.2496, -802.4903)
  line L4 (-240.2496, -802.4903) -> (-227.5496, -802.4903)
  line L5 (-227.5496, -802.4903) -> (-227.5496, -789.7903)
  line L6 (255.0504, -802.4903) -> (267.7504, -802.4903)
  line L7 (267.7504, -802.4903) -> (267.7504, -789.7903)
  line L8 (267.7504, -789.7903) -> (255.0504, -789.7903)
  line L9 (255.0504, -789.7903) -> (255.0504, -802.4903)
  point P0 (0, 0)
extrude "Extrusion22" cut sketch "Sketch22" against normal blind 6.35
sketch "Sketch23" plane through (0, 0, 0) normal (0, 0, -1) x (-1, 0, 0)
  circle A0 centre (-221.1996, -726.2903) radius 1.9812 projected
  circle A1 centre (248.7004, -728.2715) radius 1.9812 projected
  line L0 (255.0504, -789.7903) -> (267.7504, -789.7903) projected
  line L1 (267.7504, -789.7903) -> (267.7504, -764.3903) projected
  line L2 (267.7504, -764.3903) -> (261.4004, -764.3903) projected
  line L3 (261.4004, -764.3903) -> (261.4004, -738.9903) projected
  line L4 (261.4004, -738.9903) -> (267.7504, -738.9903) projected
  line L5 (267.7504, -738.9903) -> (267.7504, -713.5903) projected
  line L6 (267.7504, -713.5903) -> (229.6504, -713.5903) projected
  line L7 (229.6504, -713.5903) -> (229.6504, -764.3903) projected
  line L8 (229.6504, -764.3903) -> (-202.1496, -764.3903) projected
  line L9 (-202.1496, -764.3903) -> (-202.1496, -713.5903) projected
  line L10 (-202.1496, -713.5903) -> (-240.2496, -713.5903) projected
  line L11 (-240.2496, -713.5903) -> (-240.2496, -738.9903) projected
  line L12 (-240.2496, -738.9903) -> (-233.8996, -738.9903) projected
  line L13 (-233.8996, -738.9903) -> (-233.8996, -764.3903) projected
  line L14 (-233.8996, -764.3903) -> (-240.2496, -764.3903) projected
  line L15 (-240.2496, -764.3903) -> (-240.2496, -789.7903) projected
  line L16 (-240.2496, -789.7903) -> (-202.1496, -789.7903) projected
  line L17 (-75.1496, -796.1403) -> (-49.7496, -796.1403) projected
  line L18 (-202.1496, -789.7903) -> (255.0504, -789.7903)
  point P0 (0, 0)
extrude "Extrusion23" cut sketch "Sketch23" against normal blind 25.4
sketch "Sketch24" plane through (0, 0, 0) normal (0, 0, -1) x (-1, 0, 0)
  line L0 (-125.9496, -789.7903) -> (-202.1496, -789.7903) projected
  line L1 (-202.1496, -789.7903) -> (-202.1496, -796.1403) projected
  line L2 (-202.1496, -796.1403) -> (-227.5496, -796.1403) projected
  line L3 (-227.5496, -796.1403) -> (-227.5496, -802.4903) projected
  line L4 (-227.5496, -802.4903) -> (-240.2496, -802.4903) projected
  line L5 (-240.2496, -802.4903) -> (-240.2496, -808.8403) projected
  line L6 (-24.3496, -789.7903) -> (-100.5496, -789.7903) projected
  line L7 (-100.5496, -789.7903) -> (-100.5496, -796.1403) projected
  line L8 (-100.5496, -796.1403) -> (-125.9496, -796.1403) projected
  line L9 (-125.9496, -796.1403) -> (-125.9496, -789.7903) projected
  line L10 (51.8504, -802.4903) -> (26.4504, -802.4903) projected
  line L11 (26.4504, -802.4903) -> (26.4504, -796.1403) projected
  line L12 (26.4504, -796.1403) -> (51.8504, -796.1403) projected
  line L13 (51.8504, -796.1403) -> (51.8504, -802.4903) projected
  line L14 (153.4504, -802.4903) -> (128.0504, -802.4903) projected
  line L15 (128.0504, -802.4903) -> (128.0504, -796.1403) projected
  line L16 (128.0504, -796.1403) -> (153.4504, -796.1403) projected
  line L17 (153.4504, -796.1403) -> (153.4504, -802.4903) projected
  line L18 (-49.7496, -796.1403) -> (-49.7496, -802.4903) projected
  line L19 (-49.7496, -802.4903) -> (-75.1496, -802.4903) projected
  line L20 (-75.1496, -802.4903) -> (-75.1496, -796.1403) projected
  line L21 (-75.1496, -796.1403) -> (-49.7496, -796.1403) projected
  line L22 (-240.2496, -808.8403) -> (-77.6896, -808.8403)
  line L23 (-77.6896, -808.8403) -> (-77.6896, -789.7903)
  line L24 (-77.6896, -789.7903) -> (-240.2496, -789.7903)
  line L25 (-240.2496, -789.7903) -> (-240.2496, -808.8403)
  line L26 (-77.6896, -789.7903) -> (229.6504, -789.7903)
  line L27 (229.6504, -789.7903) -> (229.6504, -802.4903)
  line L28 (229.6504, -802.4903) -> (-77.6896, -802.4903)
  line L29 (-77.6896, -802.4903) -> (-77.6896, -789.7903)
  line L30 (105.1904, -808.8403) -> (267.7504, -808.8403)
  line L31 (267.7504, -808.8403) -> (267.7504, -789.7903)
  line L32 (267.7504, -789.7903) -> (105.1904, -789.7903)
  line L33 (105.1904, -789.7903) -> (105.1904, -808.8403)
  point P0 (0, 0)
extrude "Extrusion24" cut sketch "Sketch24" against normal blind 25.4 contours L9 L8 L7 L6 L23 L22 L5 L4 L3 L2 L1 L0 | L24 L7 L8 L9 | L1 L2 L3 L4 L25 L24 | L6 L26 L33 L28 L13 L12 L11 L18 L21 L20 L23 | L26 L27 L28 L17 L16 L15 L33 | L32 L31 L30 L33 L28 L14 L27 | L15 L16 L17 L14 | L10 L11 L12 L13
properties part number "back"
